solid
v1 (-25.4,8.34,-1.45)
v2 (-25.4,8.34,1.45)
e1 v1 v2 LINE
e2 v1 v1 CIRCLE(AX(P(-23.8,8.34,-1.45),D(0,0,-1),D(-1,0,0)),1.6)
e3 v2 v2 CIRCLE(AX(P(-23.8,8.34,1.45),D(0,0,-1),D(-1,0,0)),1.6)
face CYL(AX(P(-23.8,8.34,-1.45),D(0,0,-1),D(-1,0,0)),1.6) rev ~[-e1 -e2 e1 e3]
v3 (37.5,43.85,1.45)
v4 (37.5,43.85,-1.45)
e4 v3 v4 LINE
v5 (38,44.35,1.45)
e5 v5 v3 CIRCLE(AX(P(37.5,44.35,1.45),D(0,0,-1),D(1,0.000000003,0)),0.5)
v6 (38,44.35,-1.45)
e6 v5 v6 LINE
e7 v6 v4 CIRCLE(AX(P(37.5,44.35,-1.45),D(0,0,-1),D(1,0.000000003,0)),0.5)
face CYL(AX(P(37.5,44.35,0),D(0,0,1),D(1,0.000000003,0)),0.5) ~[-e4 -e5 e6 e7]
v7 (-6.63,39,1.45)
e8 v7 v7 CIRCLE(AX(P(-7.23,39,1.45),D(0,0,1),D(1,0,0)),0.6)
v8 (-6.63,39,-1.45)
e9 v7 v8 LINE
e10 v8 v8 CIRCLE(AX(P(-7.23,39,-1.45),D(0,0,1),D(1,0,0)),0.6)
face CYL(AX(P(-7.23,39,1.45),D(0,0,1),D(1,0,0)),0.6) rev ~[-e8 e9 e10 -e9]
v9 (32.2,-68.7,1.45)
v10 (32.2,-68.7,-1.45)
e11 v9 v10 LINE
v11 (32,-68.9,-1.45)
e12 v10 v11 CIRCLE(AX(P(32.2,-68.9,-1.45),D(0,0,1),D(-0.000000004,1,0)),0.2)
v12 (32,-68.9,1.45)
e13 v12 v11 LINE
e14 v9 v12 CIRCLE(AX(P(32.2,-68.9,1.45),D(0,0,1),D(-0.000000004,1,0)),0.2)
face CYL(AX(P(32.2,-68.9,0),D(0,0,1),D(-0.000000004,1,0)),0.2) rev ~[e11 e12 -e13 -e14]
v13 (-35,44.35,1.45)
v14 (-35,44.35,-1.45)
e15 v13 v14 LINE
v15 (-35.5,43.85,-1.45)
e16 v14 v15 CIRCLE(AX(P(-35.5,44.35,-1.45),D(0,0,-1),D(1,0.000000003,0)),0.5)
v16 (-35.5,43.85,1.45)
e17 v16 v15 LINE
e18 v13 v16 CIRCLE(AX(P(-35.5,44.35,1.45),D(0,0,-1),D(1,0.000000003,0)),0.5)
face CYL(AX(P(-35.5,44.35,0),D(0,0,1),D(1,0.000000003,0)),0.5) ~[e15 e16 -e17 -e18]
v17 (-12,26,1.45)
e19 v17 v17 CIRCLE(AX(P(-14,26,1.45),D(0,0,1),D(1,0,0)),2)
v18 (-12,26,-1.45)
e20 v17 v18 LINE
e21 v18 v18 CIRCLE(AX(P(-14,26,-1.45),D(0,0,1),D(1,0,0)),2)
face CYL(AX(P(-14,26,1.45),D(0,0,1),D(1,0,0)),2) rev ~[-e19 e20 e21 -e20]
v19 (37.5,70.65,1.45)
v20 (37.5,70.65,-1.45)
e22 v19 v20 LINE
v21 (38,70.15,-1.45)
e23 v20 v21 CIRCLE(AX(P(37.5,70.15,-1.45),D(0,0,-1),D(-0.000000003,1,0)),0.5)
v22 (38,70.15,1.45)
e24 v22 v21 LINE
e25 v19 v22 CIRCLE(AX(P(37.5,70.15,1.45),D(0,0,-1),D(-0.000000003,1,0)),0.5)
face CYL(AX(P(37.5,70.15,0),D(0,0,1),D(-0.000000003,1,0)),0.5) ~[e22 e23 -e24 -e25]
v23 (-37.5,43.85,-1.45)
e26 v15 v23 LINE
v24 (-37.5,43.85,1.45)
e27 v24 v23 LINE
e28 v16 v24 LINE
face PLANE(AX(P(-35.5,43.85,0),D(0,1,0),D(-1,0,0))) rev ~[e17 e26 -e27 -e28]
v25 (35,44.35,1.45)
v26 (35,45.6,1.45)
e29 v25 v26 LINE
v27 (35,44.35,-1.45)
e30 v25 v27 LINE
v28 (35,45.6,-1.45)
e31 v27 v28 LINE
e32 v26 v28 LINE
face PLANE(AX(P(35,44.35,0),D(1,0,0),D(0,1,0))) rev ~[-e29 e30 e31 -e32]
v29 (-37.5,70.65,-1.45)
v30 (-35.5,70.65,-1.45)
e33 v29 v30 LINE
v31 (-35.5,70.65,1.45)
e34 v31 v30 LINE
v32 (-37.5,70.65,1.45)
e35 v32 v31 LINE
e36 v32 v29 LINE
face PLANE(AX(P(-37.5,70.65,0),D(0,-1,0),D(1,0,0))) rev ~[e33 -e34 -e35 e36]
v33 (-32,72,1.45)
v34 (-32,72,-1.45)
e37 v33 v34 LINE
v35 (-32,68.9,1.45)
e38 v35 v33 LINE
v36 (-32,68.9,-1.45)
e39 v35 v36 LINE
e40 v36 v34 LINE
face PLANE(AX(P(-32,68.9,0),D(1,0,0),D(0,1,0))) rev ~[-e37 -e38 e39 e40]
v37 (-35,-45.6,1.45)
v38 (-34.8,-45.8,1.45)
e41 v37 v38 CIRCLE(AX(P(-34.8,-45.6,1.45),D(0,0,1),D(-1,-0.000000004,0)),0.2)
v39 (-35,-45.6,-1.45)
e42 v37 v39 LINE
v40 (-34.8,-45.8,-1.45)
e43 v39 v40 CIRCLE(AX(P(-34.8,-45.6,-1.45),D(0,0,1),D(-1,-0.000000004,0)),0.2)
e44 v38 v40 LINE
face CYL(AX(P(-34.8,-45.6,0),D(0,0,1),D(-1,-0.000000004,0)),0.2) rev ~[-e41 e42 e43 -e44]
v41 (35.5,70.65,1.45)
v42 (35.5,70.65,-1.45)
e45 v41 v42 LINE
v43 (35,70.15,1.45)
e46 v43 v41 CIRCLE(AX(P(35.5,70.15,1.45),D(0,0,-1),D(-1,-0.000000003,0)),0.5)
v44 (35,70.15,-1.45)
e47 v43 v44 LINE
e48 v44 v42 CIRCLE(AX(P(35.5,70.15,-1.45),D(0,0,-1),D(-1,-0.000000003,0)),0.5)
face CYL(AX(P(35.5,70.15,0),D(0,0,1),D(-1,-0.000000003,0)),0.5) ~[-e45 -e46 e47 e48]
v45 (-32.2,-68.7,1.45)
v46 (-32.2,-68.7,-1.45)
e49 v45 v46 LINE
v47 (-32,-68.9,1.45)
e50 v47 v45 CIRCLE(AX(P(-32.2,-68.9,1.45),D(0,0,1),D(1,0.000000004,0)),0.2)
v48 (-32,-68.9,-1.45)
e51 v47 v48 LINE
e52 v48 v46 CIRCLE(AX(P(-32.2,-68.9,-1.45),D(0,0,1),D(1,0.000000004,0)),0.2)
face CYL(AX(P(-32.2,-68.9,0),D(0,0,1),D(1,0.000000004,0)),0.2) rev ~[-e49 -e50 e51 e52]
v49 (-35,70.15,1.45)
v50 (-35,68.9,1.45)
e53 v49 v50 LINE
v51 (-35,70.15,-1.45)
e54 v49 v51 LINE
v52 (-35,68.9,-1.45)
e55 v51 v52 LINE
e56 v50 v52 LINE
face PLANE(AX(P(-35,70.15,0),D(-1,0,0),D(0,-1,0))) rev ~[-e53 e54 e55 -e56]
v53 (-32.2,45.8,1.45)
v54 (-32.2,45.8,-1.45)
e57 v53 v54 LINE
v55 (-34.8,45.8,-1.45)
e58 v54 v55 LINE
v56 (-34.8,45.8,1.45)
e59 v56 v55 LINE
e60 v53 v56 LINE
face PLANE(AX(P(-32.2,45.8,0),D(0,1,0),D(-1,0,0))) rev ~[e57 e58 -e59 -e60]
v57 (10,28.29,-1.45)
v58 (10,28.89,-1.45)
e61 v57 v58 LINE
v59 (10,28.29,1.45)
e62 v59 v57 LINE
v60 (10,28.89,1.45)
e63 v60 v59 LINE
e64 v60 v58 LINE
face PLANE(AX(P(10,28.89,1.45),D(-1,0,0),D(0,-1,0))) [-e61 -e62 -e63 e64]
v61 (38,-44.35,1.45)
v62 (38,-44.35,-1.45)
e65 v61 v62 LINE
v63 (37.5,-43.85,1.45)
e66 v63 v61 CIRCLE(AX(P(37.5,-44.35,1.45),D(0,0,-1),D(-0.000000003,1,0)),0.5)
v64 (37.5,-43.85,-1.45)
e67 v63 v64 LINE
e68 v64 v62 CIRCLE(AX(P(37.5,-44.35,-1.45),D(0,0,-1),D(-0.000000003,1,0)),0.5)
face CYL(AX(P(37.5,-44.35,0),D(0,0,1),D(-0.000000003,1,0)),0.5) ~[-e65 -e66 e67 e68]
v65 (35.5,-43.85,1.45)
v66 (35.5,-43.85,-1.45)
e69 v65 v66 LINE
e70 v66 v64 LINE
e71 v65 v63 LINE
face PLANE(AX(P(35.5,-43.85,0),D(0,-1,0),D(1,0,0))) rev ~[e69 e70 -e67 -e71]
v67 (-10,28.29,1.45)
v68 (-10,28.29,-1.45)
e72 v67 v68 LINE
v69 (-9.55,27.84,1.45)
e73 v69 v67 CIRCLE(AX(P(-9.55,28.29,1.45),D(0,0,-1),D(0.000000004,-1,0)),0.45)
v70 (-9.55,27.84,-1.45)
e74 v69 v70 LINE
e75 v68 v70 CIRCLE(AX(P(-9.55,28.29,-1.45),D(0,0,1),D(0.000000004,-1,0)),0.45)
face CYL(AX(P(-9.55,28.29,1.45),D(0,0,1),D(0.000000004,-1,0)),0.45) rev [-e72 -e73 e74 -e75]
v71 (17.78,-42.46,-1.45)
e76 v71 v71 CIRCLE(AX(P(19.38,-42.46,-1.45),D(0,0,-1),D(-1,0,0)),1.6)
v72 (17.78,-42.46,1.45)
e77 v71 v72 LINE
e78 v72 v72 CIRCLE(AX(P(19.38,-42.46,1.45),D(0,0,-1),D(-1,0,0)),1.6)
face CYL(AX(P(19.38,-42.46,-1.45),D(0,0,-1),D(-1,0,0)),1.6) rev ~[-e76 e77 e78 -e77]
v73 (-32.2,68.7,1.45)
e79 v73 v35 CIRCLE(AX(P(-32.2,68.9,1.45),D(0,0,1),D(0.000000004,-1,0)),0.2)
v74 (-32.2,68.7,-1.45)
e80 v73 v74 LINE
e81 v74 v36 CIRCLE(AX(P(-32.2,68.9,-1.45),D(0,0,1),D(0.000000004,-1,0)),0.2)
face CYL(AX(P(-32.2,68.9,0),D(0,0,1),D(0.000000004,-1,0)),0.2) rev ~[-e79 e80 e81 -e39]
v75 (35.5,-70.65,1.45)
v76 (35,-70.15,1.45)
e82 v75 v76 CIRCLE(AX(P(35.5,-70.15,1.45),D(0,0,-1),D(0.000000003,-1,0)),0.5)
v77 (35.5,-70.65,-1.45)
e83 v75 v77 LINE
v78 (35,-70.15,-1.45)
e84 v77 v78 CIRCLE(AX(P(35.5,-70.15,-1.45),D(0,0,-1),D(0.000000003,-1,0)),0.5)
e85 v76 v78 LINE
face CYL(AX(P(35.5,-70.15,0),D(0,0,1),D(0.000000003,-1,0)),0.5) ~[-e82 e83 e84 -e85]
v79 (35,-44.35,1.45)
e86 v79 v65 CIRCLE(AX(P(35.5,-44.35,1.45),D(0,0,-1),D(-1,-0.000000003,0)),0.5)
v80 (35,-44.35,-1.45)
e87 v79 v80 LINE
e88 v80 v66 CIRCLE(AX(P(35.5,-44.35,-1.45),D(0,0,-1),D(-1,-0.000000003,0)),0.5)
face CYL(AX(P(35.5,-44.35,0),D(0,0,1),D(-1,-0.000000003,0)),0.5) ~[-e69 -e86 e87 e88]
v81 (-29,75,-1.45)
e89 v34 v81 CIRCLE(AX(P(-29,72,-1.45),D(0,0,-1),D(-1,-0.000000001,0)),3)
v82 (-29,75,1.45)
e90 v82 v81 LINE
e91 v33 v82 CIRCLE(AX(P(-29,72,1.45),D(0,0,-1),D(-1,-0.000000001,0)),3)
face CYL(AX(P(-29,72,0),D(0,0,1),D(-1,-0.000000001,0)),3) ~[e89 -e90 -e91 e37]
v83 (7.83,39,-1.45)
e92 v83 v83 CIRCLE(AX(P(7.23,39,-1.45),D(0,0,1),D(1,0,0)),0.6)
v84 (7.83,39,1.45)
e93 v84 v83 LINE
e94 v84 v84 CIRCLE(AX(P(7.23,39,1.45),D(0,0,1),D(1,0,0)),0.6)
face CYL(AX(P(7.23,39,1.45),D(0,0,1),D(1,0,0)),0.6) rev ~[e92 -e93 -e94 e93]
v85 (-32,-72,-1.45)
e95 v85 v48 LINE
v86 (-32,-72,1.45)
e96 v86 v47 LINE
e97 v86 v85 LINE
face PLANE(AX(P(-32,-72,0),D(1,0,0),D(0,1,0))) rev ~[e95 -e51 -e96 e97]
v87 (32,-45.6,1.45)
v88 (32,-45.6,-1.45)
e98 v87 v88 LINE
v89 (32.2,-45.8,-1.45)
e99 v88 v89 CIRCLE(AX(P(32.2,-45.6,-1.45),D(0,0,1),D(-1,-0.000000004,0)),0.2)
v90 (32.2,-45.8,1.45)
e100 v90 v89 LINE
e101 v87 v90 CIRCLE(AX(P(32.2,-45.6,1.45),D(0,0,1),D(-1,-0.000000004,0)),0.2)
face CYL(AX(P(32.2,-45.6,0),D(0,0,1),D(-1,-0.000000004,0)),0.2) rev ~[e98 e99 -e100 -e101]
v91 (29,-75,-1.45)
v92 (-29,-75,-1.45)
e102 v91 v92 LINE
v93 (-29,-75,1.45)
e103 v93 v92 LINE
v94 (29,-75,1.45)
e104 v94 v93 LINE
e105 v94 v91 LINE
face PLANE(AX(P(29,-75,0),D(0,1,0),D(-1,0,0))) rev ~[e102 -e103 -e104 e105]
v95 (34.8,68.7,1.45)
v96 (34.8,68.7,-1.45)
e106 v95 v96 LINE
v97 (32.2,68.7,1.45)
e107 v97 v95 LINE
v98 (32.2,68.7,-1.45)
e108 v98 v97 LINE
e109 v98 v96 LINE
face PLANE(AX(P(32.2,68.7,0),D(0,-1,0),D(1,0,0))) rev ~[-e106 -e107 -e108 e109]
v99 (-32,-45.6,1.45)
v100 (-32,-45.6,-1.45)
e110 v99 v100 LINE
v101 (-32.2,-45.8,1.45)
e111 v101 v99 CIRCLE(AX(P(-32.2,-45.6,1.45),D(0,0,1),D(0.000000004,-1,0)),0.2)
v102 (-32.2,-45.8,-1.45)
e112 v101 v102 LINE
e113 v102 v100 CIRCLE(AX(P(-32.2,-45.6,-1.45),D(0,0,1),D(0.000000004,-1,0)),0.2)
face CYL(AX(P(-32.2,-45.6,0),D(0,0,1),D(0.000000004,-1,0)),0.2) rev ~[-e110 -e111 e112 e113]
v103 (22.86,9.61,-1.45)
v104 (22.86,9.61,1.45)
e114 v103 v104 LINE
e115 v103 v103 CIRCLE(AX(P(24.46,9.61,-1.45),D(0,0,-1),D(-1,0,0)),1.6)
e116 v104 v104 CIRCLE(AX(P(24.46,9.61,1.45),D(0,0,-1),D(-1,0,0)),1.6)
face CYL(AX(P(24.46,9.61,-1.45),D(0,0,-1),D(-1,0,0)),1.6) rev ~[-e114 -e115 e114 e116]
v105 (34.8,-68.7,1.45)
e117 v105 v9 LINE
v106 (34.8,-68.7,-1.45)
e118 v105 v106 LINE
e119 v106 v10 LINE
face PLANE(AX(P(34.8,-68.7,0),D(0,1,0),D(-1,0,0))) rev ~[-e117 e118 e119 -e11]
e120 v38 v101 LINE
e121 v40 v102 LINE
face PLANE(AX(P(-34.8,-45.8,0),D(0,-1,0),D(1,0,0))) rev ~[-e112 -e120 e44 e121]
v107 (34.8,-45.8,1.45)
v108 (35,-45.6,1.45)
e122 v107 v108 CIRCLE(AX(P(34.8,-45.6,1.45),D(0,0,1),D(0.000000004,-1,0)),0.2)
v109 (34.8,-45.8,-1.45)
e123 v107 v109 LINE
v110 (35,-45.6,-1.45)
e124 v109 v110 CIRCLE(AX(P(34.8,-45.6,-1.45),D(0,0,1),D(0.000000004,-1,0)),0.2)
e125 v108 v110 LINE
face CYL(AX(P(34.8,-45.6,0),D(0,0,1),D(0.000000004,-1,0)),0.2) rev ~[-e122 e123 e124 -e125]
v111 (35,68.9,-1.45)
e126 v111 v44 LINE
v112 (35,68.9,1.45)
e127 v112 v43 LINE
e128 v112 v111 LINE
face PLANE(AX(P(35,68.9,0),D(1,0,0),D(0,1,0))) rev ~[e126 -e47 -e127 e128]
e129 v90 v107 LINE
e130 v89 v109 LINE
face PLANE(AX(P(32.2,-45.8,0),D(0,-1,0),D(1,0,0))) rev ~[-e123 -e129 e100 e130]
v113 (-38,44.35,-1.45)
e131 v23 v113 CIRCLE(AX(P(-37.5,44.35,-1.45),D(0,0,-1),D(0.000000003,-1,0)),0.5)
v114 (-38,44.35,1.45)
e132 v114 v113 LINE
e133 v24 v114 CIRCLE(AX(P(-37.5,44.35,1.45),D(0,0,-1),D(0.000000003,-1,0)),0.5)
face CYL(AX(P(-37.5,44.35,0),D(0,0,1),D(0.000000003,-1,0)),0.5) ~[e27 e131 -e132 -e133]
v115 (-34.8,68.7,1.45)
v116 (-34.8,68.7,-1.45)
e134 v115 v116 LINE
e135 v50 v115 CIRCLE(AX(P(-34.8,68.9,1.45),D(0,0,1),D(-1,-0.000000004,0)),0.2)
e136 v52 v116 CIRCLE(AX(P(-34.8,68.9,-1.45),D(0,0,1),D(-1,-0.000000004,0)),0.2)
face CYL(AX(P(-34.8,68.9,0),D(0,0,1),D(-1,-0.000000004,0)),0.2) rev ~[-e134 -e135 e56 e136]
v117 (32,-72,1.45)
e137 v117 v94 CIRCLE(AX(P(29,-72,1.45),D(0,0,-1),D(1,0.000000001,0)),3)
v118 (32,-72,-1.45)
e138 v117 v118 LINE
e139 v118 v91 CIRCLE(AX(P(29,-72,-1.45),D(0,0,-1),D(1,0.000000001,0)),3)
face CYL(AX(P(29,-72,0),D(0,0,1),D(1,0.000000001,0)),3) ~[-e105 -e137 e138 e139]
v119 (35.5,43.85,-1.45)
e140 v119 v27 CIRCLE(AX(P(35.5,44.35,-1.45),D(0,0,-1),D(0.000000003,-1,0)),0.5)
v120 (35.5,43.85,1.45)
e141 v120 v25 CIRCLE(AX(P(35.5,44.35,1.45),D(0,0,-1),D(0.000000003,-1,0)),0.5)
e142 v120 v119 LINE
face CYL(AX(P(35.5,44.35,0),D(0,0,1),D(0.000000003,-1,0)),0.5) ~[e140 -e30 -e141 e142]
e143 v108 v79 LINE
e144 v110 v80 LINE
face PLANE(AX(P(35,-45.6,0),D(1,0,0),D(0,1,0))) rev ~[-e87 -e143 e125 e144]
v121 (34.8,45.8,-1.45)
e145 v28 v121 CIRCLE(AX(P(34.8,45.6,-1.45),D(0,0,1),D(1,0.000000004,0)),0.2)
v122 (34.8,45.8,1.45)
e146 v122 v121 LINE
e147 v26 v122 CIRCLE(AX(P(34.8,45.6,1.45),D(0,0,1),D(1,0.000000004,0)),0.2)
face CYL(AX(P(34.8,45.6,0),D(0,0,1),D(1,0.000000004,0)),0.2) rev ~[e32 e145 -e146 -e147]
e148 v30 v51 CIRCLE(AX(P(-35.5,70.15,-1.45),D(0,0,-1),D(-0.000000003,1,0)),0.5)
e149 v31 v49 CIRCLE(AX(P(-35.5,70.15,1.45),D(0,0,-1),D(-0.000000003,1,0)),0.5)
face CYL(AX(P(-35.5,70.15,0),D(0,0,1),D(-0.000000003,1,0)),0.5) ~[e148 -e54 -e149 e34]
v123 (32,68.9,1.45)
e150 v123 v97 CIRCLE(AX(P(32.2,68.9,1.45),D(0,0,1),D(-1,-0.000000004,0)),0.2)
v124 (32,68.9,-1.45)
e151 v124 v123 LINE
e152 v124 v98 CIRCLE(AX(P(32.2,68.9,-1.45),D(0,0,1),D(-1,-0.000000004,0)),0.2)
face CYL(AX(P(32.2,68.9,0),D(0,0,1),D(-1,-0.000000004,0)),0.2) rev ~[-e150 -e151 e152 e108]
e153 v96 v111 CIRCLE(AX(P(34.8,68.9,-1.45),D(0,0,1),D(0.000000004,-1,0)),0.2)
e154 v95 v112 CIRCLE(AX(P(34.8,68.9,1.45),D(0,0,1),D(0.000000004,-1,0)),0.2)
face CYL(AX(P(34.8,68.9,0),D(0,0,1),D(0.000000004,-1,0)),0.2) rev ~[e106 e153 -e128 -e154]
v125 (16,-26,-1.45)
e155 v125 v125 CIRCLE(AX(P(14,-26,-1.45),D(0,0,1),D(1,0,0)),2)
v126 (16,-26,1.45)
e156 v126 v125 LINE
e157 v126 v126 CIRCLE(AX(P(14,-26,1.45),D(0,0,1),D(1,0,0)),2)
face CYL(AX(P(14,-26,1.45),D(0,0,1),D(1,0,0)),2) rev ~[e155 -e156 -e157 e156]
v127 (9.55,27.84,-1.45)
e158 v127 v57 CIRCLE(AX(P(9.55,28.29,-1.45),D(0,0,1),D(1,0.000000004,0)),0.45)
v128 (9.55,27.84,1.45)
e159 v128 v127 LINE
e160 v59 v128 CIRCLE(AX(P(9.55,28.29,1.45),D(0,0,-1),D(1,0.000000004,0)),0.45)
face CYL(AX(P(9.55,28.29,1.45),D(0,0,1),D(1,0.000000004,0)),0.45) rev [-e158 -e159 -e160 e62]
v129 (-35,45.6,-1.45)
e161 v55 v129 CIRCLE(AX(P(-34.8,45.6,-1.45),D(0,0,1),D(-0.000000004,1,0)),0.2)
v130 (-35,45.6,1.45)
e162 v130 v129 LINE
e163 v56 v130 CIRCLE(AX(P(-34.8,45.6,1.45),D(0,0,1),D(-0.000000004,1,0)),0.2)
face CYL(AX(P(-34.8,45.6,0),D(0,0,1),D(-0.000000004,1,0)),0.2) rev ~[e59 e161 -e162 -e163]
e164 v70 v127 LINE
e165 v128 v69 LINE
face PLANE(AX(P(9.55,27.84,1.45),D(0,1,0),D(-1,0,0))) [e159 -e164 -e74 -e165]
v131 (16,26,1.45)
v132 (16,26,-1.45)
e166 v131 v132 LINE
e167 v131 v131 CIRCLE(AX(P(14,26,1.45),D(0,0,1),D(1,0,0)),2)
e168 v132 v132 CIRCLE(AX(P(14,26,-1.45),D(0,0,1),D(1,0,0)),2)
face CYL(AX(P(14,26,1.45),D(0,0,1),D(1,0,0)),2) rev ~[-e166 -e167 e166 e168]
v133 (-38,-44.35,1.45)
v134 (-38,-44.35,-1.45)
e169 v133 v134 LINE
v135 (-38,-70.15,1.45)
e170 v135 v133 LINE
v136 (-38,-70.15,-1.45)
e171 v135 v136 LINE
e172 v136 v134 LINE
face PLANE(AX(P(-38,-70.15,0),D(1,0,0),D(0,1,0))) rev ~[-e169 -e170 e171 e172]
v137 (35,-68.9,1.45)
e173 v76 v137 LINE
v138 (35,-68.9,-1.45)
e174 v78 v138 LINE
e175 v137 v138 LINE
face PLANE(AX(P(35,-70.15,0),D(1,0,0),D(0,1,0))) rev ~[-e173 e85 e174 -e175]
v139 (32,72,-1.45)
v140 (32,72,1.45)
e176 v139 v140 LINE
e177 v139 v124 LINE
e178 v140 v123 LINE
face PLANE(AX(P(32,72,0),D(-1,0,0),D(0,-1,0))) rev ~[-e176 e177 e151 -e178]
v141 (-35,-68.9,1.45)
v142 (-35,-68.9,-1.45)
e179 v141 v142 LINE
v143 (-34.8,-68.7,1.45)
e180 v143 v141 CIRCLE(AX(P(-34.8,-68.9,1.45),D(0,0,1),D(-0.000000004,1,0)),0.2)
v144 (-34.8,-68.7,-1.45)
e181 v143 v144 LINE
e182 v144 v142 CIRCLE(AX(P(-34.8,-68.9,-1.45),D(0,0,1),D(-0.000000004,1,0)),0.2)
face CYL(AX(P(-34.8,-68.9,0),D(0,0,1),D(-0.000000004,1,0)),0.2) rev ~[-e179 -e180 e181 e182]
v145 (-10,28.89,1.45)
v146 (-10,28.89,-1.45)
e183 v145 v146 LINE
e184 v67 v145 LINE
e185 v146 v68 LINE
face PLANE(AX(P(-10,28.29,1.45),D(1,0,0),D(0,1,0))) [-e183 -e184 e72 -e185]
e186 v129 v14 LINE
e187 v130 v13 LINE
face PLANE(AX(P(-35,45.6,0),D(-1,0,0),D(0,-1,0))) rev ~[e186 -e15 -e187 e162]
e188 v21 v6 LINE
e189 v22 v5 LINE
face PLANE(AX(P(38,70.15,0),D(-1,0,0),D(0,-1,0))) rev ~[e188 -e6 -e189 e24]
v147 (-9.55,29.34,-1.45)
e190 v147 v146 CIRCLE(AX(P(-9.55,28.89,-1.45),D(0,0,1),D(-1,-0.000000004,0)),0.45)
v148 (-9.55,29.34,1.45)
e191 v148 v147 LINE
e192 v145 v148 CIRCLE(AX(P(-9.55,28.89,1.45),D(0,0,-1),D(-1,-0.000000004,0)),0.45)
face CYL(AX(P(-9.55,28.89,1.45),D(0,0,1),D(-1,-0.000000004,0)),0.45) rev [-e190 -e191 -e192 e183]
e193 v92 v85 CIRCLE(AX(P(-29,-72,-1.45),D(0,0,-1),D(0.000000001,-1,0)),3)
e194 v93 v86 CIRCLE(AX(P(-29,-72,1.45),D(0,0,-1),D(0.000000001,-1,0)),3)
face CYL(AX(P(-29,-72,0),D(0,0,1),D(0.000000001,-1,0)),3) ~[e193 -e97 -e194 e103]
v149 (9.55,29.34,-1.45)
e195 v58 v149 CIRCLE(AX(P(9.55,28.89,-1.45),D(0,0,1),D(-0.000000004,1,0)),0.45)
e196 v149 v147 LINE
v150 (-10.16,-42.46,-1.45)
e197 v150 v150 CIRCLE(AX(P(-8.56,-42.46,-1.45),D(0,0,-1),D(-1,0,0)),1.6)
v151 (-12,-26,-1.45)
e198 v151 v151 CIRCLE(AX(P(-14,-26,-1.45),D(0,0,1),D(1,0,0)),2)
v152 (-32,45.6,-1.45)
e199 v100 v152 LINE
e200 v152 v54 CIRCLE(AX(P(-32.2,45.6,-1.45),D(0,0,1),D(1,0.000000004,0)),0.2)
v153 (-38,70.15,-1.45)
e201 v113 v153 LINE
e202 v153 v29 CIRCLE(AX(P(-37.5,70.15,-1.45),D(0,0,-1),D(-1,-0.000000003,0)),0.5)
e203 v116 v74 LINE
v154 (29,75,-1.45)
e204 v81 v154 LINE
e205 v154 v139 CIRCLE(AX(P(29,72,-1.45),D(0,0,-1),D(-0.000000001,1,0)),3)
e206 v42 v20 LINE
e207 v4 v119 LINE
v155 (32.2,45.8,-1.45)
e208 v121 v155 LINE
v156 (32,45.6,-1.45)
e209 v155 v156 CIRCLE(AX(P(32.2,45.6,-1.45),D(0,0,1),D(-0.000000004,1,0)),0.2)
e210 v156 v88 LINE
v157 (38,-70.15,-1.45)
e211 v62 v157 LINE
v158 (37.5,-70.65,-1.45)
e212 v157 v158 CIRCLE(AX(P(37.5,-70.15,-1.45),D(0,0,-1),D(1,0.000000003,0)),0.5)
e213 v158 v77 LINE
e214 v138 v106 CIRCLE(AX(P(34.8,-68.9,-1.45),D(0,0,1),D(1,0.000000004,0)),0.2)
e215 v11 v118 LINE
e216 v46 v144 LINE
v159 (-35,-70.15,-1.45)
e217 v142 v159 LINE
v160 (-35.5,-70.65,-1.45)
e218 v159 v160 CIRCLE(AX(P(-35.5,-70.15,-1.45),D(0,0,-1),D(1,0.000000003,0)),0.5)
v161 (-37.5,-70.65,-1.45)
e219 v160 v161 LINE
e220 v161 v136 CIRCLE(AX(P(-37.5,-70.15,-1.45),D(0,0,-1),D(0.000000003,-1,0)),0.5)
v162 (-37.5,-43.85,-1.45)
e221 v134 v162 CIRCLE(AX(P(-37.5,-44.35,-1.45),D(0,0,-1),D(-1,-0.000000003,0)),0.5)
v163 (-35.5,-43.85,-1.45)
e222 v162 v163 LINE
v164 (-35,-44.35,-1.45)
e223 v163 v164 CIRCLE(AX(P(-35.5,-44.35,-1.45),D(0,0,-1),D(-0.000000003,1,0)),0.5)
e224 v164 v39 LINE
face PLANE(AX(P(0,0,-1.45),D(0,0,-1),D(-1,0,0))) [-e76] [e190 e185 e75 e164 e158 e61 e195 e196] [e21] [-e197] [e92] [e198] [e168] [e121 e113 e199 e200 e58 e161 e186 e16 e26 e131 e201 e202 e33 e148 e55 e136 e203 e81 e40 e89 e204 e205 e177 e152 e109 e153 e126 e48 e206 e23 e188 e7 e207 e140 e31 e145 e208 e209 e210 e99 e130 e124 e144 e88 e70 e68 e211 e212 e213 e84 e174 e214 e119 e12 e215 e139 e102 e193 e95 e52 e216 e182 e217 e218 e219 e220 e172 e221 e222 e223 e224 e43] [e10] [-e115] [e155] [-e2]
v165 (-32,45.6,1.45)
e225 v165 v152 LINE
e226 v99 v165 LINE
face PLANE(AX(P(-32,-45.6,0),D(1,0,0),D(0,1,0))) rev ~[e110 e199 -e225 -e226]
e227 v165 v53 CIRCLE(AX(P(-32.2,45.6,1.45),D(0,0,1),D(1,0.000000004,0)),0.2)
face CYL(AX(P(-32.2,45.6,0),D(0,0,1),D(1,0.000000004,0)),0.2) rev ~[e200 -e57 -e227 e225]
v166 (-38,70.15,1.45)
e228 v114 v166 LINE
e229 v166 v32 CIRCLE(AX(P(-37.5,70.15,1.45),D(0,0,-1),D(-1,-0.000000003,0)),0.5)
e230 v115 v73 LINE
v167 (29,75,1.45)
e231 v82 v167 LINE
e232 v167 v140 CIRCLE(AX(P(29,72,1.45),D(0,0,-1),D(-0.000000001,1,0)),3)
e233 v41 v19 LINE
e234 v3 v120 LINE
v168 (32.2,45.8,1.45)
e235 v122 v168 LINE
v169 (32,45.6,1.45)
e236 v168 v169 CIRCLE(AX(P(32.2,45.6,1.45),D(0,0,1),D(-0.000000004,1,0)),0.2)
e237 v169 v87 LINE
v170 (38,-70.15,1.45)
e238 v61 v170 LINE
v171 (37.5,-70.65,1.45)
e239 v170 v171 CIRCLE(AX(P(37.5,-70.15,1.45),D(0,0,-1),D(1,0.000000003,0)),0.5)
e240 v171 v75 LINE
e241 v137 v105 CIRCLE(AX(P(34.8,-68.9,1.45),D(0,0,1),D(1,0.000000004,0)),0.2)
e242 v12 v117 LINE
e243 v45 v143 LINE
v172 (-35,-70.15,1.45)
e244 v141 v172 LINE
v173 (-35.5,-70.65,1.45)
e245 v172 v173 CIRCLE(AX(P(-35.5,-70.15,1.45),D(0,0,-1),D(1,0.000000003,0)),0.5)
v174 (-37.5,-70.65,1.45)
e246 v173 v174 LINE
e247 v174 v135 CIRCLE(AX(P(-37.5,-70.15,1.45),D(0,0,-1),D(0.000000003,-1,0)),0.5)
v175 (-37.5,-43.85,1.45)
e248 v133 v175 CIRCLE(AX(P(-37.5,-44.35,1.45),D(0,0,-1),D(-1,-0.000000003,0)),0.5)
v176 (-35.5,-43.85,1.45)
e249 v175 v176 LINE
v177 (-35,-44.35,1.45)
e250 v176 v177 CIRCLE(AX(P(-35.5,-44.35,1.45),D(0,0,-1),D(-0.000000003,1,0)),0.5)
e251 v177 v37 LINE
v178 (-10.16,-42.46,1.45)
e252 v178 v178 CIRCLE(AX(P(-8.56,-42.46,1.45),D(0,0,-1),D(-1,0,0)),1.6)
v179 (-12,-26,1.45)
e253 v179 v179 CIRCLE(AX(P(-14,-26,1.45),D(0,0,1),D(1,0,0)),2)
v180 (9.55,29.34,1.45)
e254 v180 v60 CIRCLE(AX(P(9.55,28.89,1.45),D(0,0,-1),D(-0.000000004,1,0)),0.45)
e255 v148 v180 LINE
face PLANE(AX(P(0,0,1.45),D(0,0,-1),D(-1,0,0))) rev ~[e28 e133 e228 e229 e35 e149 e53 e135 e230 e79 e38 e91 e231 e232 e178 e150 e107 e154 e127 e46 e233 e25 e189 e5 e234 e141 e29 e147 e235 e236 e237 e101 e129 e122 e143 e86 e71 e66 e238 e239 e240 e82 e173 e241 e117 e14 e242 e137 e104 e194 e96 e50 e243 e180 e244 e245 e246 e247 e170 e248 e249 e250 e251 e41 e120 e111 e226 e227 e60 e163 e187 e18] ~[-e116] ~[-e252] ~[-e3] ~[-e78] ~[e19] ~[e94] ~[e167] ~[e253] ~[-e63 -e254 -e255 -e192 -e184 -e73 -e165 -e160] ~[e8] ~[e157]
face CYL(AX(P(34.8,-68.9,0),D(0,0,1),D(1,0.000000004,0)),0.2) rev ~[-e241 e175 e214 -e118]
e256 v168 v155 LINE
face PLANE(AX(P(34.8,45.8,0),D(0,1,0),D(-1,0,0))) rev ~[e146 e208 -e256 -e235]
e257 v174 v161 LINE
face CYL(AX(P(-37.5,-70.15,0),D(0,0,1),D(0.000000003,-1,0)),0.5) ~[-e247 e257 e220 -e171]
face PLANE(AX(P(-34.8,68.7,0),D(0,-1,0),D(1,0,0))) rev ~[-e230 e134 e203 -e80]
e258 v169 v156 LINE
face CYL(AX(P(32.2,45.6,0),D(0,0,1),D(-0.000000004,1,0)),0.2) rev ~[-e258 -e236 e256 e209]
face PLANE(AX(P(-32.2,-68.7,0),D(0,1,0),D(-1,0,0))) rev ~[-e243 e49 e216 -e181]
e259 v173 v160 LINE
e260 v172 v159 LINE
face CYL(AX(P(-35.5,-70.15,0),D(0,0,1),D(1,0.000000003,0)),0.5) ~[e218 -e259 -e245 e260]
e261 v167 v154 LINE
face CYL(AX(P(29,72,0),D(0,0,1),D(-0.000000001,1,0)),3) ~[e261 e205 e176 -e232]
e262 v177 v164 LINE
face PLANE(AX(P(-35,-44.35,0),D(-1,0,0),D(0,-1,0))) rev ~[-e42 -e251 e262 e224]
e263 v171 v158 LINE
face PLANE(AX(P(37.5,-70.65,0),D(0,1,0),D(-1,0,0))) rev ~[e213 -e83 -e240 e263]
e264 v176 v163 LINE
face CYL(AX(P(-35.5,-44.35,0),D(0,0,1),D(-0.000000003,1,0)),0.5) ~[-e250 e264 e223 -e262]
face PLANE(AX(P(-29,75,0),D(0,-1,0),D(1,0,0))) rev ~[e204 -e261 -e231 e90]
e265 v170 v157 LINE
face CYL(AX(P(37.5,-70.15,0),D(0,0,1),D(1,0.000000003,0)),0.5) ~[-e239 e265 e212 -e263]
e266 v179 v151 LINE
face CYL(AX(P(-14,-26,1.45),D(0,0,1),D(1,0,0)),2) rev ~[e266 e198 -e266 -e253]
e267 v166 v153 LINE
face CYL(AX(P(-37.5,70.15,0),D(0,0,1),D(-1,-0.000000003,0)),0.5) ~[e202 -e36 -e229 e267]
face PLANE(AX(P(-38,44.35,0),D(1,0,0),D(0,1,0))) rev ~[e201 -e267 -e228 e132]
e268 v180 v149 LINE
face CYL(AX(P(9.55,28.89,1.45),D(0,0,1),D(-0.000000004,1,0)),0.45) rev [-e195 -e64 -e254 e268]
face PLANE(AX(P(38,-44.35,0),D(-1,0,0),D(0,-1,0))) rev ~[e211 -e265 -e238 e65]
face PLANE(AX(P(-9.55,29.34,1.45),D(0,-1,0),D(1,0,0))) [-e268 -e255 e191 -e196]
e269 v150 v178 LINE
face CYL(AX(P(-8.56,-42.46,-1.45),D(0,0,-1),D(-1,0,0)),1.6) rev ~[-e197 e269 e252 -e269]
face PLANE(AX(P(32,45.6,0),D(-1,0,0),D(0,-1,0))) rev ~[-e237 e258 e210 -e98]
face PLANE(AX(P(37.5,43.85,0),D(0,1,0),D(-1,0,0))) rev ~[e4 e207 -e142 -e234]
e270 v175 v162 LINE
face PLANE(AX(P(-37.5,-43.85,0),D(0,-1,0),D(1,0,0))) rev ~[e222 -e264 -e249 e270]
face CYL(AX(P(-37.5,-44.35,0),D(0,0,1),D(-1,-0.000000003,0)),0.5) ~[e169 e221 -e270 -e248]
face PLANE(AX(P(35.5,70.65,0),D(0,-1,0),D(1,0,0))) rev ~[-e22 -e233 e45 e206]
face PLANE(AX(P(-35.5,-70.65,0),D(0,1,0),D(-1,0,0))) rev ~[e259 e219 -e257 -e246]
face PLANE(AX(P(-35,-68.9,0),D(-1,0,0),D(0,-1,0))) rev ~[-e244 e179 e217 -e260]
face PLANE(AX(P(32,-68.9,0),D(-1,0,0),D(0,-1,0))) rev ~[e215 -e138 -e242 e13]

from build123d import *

# Parameters (mm, degrees)
EXTRUDE_1_DEPTH     = 1.45
CUT_EXTRUDE_1_REACH = 4.9
SKETCH_2_R          = 1.6
SKETCH_3_R          = 2
CUT_EXTRUDE_2_DEPTH = 10
SKETCH_4_R          = 0.6
CUT_EXTRUDE_3_DEPTH = 10


with BuildPart() as part:
    # 草图1 → 凸台-拉伸1 (new body, symmetric)
    with BuildSketch(Plane.XY):
        with BuildLine():
            Line((32.2, 68.7), (34.8, 68.7))
            ThreePointArc((34.8, 68.7), (34.941421356, 68.758578644), (35, 68.9))
            Line((35, 68.9), (35, 70.15))
            ThreePointArc((35, 70.15), (35.146446609, 70.503553391), (35.5, 70.65))
            Line((35.5, 70.65), (37.5, 70.65))
            ThreePointArc((37.5, 70.65), (37.853553391, 70.503553391), (38, 70.15))
            Line((38, 70.15), (38, 44.35))
            ThreePointArc((38, 44.35), (37.853553391, 43.996446609), (37.5, 43.85))
            Line((37.5, 43.85), (35.5, 43.85))
            ThreePointArc((35.5, 43.85), (35.146446609, 43.996446609), (35, 44.35))
            Line((35, 44.35), (35, 45.6))
            ThreePointArc((35, 45.6), (34.941421356, 45.741421356), (34.8, 45.8))
            Line((34.8, 45.8), (32.2, 45.8))
            ThreePointArc((32.2, 45.8), (32.058578644, 45.741421356), (32, 45.6))
            Line((32, 45.6), (32, -45.6))
            ThreePointArc((32, -45.6), (32.058578644, -45.741421356), (32.2, -45.8))
            Line((32.2, -45.8), (34.8, -45.8))
            ThreePointArc((34.8, -45.8), (34.941421356, -45.741421356), (35, -45.6))
            Line((35, -45.6), (35, -44.35))
            ThreePointArc((35, -44.35), (35.146446609, -43.996446609), (35.5, -43.85))
            Line((35.5, -43.85), (37.5, -43.85))
            ThreePointArc((37.5, -43.85), (37.853553391, -43.996446609), (38, -44.35))
            Line((38, -44.35), (38, -70.15))
            ThreePointArc((38, -70.15), (37.853553391, -70.503553391), (37.5, -70.65))
            Line((37.5, -70.65), (35.5, -70.65))
            ThreePointArc((35.5, -70.65), (35.146446609, -70.503553391), (35, -70.15))
            Line((35, -70.15), (35, -68.9))
            ThreePointArc((35, -68.9), (34.941421356, -68.758578644), (34.8, -68.7))
            Line((34.8, -68.7), (32.2, -68.7))
            ThreePointArc((32.2, -68.7), (32.058578644, -68.758578644), (32, -68.9))
            Line((32, -68.9), (32, -72))
            ThreePointArc((32, -72), (31.121320344, -74.121320344), (29, -75))
            Line((29, -75), (-29, -75))
            ThreePointArc((-29, -75), (-31.121320344, -74.121320344), (-32, -72))
            Line((-32, -72), (-32, -68.9))
            ThreePointArc((-32, -68.9), (-32.058578644, -68.758578644), (-32.2, -68.7))
            Line((-32.2, -68.7), (-34.8, -68.7))
            ThreePointArc((-34.8, -68.7), (-34.941421356, -68.758578644), (-35, -68.9))
            Line((-35, -68.9), (-35, -70.15))
            ThreePointArc((-35, -70.15), (-35.146446609, -70.503553391), (-35.5, -70.65))
            Line((-35.5, -70.65), (-37.5, -70.65))
            ThreePointArc((-37.5, -70.65), (-37.853553391, -70.503553391), (-38, -70.15))
            Line((-38, -70.15), (-38, -44.35))
            ThreePointArc((-38, -44.35), (-37.853553391, -43.996446609), (-37.5, -43.85))
            Line((-37.5, -43.85), (-35.5, -43.85))
            ThreePointArc((-35.5, -43.85), (-35.146446609, -43.996446609), (-35, -44.35))
            Line((-35, -44.35), (-35, -45.6))
            ThreePointArc((-35, -45.6), (-34.941421356, -45.741421356), (-34.8, -45.8))
            Line((-34.8, -45.8), (-32.2, -45.8))
            ThreePointArc((-32.2, -45.8), (-32.058578644, -45.741421356), (-32, -45.6))
            Line((-32, -45.6), (-32, 45.6))
            ThreePointArc((-32, 45.6), (-32.058578644, 45.741421356), (-32.2, 45.8))
            Line((-32.2, 45.8), (-34.8, 45.8))
            ThreePointArc((-34.8, 45.8), (-34.941421356, 45.741421356), (-35, 45.6))
            Line((-35, 45.6), (-35, 44.35))
            ThreePointArc((-35, 44.35), (-35.146446609, 43.996446609), (-35.5, 43.85))
            Line((-35.5, 43.85), (-37.5, 43.85))
            ThreePointArc((-37.5, 43.85), (-37.853553391, 43.996446609), (-38, 44.35))
            Line((-38, 44.35), (-38, 70.15))
            ThreePointArc((-38, 70.15), (-37.853553391, 70.503553391), (-37.5, 70.65))
            Line((-37.5, 70.65), (-35.5, 70.65))
            ThreePointArc((-35.5, 70.65), (-35.146446609, 70.503553391), (-35, 70.15))
            Line((-35, 70.15), (-35, 68.9))
            ThreePointArc((-35, 68.9), (-34.941421356, 68.758578644), (-34.8, 68.7))
            Line((-34.8, 68.7), (-32.2, 68.7))
            ThreePointArc((-32.2, 68.7), (-32.058578644, 68.758578644), (-32, 68.9))
            Line((-32, 68.9), (-32, 72))
            ThreePointArc((-32, 72), (-31.121320344, 74.121320344), (-29, 75))
            Line((-29, 75), (29, 75))
            ThreePointArc((29, 75), (31.121320344, 74.121320344), (32, 72))
            Line((32, 72), (32, 68.9))
            ThreePointArc((32, 68.9), (32.058578644, 68.758578644), (32.2, 68.7))
        make_face()
    extrude(amount=EXTRUDE_1_DEPTH, both=True)

    # 草图2 → 切除-拉伸1 (cut, up to next)
    with BuildSketch(Plane(origin=(0, 0, -1.45), x_dir=(-1, 0, 0), z_dir=(0, 0, -1)), mode=Mode.PRIVATE) as cut_extrude_1_sk1:
        with Locations((23.8, 8.34)):
            Circle(SKETCH_2_R)
    cut_extrude_1_tool1 = extrude(cut_extrude_1_sk1.sketch, amount=-CUT_EXTRUDE_1_REACH, mode=Mode.PRIVATE) & part.part
    add(cut_extrude_1_tool1.solids().sort_by_distance((-23.8, 8.34, -1.45))[0], mode=Mode.SUBTRACT)
    # 草图2 → 切除-拉伸1 (cut, up to next)
    with BuildSketch(Plane(origin=(0, 0, -1.45), x_dir=(-1, 0, 0), z_dir=(0, 0, -1)), mode=Mode.PRIVATE) as cut_extrude_1_sk2:
        with Locations((8.56, -42.46)):
            Circle(SKETCH_2_R)
    cut_extrude_1_tool2 = extrude(cut_extrude_1_sk2.sketch, amount=-CUT_EXTRUDE_1_REACH, mode=Mode.PRIVATE) & part.part
    add(cut_extrude_1_tool2.solids().sort_by_distance((-8.56, -42.46, -1.45))[0], mode=Mode.SUBTRACT)
    # 草图2 → 切除-拉伸1 (cut, up to next)
    with BuildSketch(Plane(origin=(0, 0, -1.45), x_dir=(-1, 0, 0), z_dir=(0, 0, -1)), mode=Mode.PRIVATE) as cut_extrude_1_sk3:
        with Locations((-19.38, -42.46)):
            Circle(SKETCH_2_R)
    cut_extrude_1_tool3 = extrude(cut_extrude_1_sk3.sketch, amount=-CUT_EXTRUDE_1_REACH, mode=Mode.PRIVATE) & part.part
    add(cut_extrude_1_tool3.solids().sort_by_distance((19.38, -42.46, -1.45))[0], mode=Mode.SUBTRACT)
    # 草图2 → 切除-拉伸1 (cut, up to next)
    with BuildSketch(Plane(origin=(0, 0, -1.45), x_dir=(-1, 0, 0), z_dir=(0, 0, -1)), mode=Mode.PRIVATE) as cut_extrude_1_sk4:
        with Locations((-24.46, 9.61)):
            Circle(SKETCH_2_R)
    cut_extrude_1_tool4 = extrude(cut_extrude_1_sk4.sketch, amount=-CUT_EXTRUDE_1_REACH, mode=Mode.PRIVATE) & part.part
    add(cut_extrude_1_tool4.solids().sort_by_distance((24.46, 9.61, -1.45))[0], mode=Mode.SUBTRACT)

    # 草图3 → 切除-拉伸2 (cut)
    with BuildSketch(Plane.XY.offset(1.45)):
        with Locations((14, 26)):
            Circle(SKETCH_3_R)
        with Locations((14, -26)):
            Circle(SKETCH_3_R)
        with Locations((-14, 26)):
            Circle(SKETCH_3_R)
        with Locations((-14, -26)):
            Circle(SKETCH_3_R)
    extrude(amount=-CUT_EXTRUDE_2_DEPTH, mode=Mode.SUBTRACT)

    # 草图4 → 切除-拉伸3 (cut)
    with BuildSketch(Plane.XY.offset(1.45)):
        with Locations((-7.23, 39)):
            Circle(SKETCH_4_R)
        with Locations((7.23, 39)):
            Circle(SKETCH_4_R)
        with BuildLine():
            Line((-9.55, 29.34), (9.55, 29.34))
            ThreePointArc((9.55, 29.34), (9.868198052, 29.208198052), (10, 28.89))
            Line((10, 28.89), (10, 28.29))
            ThreePointArc((10, 28.29), (9.868198052, 27.971801948), (9.55, 27.84))
            Line((9.55, 27.84), (-9.55, 27.84))
            ThreePointArc((-9.55, 27.84), (-9.868198052, 27.971801948), (-10, 28.29))
            Line((-10, 28.29), (-10, 28.89))
            ThreePointArc((-10, 28.89), (-9.868198052, 29.208198052), (-9.55, 29.34))
        make_face()
    extrude(amount=-CUT_EXTRUDE_3_DEPTH, mode=Mode.SUBTRACT)


solid = part.part
